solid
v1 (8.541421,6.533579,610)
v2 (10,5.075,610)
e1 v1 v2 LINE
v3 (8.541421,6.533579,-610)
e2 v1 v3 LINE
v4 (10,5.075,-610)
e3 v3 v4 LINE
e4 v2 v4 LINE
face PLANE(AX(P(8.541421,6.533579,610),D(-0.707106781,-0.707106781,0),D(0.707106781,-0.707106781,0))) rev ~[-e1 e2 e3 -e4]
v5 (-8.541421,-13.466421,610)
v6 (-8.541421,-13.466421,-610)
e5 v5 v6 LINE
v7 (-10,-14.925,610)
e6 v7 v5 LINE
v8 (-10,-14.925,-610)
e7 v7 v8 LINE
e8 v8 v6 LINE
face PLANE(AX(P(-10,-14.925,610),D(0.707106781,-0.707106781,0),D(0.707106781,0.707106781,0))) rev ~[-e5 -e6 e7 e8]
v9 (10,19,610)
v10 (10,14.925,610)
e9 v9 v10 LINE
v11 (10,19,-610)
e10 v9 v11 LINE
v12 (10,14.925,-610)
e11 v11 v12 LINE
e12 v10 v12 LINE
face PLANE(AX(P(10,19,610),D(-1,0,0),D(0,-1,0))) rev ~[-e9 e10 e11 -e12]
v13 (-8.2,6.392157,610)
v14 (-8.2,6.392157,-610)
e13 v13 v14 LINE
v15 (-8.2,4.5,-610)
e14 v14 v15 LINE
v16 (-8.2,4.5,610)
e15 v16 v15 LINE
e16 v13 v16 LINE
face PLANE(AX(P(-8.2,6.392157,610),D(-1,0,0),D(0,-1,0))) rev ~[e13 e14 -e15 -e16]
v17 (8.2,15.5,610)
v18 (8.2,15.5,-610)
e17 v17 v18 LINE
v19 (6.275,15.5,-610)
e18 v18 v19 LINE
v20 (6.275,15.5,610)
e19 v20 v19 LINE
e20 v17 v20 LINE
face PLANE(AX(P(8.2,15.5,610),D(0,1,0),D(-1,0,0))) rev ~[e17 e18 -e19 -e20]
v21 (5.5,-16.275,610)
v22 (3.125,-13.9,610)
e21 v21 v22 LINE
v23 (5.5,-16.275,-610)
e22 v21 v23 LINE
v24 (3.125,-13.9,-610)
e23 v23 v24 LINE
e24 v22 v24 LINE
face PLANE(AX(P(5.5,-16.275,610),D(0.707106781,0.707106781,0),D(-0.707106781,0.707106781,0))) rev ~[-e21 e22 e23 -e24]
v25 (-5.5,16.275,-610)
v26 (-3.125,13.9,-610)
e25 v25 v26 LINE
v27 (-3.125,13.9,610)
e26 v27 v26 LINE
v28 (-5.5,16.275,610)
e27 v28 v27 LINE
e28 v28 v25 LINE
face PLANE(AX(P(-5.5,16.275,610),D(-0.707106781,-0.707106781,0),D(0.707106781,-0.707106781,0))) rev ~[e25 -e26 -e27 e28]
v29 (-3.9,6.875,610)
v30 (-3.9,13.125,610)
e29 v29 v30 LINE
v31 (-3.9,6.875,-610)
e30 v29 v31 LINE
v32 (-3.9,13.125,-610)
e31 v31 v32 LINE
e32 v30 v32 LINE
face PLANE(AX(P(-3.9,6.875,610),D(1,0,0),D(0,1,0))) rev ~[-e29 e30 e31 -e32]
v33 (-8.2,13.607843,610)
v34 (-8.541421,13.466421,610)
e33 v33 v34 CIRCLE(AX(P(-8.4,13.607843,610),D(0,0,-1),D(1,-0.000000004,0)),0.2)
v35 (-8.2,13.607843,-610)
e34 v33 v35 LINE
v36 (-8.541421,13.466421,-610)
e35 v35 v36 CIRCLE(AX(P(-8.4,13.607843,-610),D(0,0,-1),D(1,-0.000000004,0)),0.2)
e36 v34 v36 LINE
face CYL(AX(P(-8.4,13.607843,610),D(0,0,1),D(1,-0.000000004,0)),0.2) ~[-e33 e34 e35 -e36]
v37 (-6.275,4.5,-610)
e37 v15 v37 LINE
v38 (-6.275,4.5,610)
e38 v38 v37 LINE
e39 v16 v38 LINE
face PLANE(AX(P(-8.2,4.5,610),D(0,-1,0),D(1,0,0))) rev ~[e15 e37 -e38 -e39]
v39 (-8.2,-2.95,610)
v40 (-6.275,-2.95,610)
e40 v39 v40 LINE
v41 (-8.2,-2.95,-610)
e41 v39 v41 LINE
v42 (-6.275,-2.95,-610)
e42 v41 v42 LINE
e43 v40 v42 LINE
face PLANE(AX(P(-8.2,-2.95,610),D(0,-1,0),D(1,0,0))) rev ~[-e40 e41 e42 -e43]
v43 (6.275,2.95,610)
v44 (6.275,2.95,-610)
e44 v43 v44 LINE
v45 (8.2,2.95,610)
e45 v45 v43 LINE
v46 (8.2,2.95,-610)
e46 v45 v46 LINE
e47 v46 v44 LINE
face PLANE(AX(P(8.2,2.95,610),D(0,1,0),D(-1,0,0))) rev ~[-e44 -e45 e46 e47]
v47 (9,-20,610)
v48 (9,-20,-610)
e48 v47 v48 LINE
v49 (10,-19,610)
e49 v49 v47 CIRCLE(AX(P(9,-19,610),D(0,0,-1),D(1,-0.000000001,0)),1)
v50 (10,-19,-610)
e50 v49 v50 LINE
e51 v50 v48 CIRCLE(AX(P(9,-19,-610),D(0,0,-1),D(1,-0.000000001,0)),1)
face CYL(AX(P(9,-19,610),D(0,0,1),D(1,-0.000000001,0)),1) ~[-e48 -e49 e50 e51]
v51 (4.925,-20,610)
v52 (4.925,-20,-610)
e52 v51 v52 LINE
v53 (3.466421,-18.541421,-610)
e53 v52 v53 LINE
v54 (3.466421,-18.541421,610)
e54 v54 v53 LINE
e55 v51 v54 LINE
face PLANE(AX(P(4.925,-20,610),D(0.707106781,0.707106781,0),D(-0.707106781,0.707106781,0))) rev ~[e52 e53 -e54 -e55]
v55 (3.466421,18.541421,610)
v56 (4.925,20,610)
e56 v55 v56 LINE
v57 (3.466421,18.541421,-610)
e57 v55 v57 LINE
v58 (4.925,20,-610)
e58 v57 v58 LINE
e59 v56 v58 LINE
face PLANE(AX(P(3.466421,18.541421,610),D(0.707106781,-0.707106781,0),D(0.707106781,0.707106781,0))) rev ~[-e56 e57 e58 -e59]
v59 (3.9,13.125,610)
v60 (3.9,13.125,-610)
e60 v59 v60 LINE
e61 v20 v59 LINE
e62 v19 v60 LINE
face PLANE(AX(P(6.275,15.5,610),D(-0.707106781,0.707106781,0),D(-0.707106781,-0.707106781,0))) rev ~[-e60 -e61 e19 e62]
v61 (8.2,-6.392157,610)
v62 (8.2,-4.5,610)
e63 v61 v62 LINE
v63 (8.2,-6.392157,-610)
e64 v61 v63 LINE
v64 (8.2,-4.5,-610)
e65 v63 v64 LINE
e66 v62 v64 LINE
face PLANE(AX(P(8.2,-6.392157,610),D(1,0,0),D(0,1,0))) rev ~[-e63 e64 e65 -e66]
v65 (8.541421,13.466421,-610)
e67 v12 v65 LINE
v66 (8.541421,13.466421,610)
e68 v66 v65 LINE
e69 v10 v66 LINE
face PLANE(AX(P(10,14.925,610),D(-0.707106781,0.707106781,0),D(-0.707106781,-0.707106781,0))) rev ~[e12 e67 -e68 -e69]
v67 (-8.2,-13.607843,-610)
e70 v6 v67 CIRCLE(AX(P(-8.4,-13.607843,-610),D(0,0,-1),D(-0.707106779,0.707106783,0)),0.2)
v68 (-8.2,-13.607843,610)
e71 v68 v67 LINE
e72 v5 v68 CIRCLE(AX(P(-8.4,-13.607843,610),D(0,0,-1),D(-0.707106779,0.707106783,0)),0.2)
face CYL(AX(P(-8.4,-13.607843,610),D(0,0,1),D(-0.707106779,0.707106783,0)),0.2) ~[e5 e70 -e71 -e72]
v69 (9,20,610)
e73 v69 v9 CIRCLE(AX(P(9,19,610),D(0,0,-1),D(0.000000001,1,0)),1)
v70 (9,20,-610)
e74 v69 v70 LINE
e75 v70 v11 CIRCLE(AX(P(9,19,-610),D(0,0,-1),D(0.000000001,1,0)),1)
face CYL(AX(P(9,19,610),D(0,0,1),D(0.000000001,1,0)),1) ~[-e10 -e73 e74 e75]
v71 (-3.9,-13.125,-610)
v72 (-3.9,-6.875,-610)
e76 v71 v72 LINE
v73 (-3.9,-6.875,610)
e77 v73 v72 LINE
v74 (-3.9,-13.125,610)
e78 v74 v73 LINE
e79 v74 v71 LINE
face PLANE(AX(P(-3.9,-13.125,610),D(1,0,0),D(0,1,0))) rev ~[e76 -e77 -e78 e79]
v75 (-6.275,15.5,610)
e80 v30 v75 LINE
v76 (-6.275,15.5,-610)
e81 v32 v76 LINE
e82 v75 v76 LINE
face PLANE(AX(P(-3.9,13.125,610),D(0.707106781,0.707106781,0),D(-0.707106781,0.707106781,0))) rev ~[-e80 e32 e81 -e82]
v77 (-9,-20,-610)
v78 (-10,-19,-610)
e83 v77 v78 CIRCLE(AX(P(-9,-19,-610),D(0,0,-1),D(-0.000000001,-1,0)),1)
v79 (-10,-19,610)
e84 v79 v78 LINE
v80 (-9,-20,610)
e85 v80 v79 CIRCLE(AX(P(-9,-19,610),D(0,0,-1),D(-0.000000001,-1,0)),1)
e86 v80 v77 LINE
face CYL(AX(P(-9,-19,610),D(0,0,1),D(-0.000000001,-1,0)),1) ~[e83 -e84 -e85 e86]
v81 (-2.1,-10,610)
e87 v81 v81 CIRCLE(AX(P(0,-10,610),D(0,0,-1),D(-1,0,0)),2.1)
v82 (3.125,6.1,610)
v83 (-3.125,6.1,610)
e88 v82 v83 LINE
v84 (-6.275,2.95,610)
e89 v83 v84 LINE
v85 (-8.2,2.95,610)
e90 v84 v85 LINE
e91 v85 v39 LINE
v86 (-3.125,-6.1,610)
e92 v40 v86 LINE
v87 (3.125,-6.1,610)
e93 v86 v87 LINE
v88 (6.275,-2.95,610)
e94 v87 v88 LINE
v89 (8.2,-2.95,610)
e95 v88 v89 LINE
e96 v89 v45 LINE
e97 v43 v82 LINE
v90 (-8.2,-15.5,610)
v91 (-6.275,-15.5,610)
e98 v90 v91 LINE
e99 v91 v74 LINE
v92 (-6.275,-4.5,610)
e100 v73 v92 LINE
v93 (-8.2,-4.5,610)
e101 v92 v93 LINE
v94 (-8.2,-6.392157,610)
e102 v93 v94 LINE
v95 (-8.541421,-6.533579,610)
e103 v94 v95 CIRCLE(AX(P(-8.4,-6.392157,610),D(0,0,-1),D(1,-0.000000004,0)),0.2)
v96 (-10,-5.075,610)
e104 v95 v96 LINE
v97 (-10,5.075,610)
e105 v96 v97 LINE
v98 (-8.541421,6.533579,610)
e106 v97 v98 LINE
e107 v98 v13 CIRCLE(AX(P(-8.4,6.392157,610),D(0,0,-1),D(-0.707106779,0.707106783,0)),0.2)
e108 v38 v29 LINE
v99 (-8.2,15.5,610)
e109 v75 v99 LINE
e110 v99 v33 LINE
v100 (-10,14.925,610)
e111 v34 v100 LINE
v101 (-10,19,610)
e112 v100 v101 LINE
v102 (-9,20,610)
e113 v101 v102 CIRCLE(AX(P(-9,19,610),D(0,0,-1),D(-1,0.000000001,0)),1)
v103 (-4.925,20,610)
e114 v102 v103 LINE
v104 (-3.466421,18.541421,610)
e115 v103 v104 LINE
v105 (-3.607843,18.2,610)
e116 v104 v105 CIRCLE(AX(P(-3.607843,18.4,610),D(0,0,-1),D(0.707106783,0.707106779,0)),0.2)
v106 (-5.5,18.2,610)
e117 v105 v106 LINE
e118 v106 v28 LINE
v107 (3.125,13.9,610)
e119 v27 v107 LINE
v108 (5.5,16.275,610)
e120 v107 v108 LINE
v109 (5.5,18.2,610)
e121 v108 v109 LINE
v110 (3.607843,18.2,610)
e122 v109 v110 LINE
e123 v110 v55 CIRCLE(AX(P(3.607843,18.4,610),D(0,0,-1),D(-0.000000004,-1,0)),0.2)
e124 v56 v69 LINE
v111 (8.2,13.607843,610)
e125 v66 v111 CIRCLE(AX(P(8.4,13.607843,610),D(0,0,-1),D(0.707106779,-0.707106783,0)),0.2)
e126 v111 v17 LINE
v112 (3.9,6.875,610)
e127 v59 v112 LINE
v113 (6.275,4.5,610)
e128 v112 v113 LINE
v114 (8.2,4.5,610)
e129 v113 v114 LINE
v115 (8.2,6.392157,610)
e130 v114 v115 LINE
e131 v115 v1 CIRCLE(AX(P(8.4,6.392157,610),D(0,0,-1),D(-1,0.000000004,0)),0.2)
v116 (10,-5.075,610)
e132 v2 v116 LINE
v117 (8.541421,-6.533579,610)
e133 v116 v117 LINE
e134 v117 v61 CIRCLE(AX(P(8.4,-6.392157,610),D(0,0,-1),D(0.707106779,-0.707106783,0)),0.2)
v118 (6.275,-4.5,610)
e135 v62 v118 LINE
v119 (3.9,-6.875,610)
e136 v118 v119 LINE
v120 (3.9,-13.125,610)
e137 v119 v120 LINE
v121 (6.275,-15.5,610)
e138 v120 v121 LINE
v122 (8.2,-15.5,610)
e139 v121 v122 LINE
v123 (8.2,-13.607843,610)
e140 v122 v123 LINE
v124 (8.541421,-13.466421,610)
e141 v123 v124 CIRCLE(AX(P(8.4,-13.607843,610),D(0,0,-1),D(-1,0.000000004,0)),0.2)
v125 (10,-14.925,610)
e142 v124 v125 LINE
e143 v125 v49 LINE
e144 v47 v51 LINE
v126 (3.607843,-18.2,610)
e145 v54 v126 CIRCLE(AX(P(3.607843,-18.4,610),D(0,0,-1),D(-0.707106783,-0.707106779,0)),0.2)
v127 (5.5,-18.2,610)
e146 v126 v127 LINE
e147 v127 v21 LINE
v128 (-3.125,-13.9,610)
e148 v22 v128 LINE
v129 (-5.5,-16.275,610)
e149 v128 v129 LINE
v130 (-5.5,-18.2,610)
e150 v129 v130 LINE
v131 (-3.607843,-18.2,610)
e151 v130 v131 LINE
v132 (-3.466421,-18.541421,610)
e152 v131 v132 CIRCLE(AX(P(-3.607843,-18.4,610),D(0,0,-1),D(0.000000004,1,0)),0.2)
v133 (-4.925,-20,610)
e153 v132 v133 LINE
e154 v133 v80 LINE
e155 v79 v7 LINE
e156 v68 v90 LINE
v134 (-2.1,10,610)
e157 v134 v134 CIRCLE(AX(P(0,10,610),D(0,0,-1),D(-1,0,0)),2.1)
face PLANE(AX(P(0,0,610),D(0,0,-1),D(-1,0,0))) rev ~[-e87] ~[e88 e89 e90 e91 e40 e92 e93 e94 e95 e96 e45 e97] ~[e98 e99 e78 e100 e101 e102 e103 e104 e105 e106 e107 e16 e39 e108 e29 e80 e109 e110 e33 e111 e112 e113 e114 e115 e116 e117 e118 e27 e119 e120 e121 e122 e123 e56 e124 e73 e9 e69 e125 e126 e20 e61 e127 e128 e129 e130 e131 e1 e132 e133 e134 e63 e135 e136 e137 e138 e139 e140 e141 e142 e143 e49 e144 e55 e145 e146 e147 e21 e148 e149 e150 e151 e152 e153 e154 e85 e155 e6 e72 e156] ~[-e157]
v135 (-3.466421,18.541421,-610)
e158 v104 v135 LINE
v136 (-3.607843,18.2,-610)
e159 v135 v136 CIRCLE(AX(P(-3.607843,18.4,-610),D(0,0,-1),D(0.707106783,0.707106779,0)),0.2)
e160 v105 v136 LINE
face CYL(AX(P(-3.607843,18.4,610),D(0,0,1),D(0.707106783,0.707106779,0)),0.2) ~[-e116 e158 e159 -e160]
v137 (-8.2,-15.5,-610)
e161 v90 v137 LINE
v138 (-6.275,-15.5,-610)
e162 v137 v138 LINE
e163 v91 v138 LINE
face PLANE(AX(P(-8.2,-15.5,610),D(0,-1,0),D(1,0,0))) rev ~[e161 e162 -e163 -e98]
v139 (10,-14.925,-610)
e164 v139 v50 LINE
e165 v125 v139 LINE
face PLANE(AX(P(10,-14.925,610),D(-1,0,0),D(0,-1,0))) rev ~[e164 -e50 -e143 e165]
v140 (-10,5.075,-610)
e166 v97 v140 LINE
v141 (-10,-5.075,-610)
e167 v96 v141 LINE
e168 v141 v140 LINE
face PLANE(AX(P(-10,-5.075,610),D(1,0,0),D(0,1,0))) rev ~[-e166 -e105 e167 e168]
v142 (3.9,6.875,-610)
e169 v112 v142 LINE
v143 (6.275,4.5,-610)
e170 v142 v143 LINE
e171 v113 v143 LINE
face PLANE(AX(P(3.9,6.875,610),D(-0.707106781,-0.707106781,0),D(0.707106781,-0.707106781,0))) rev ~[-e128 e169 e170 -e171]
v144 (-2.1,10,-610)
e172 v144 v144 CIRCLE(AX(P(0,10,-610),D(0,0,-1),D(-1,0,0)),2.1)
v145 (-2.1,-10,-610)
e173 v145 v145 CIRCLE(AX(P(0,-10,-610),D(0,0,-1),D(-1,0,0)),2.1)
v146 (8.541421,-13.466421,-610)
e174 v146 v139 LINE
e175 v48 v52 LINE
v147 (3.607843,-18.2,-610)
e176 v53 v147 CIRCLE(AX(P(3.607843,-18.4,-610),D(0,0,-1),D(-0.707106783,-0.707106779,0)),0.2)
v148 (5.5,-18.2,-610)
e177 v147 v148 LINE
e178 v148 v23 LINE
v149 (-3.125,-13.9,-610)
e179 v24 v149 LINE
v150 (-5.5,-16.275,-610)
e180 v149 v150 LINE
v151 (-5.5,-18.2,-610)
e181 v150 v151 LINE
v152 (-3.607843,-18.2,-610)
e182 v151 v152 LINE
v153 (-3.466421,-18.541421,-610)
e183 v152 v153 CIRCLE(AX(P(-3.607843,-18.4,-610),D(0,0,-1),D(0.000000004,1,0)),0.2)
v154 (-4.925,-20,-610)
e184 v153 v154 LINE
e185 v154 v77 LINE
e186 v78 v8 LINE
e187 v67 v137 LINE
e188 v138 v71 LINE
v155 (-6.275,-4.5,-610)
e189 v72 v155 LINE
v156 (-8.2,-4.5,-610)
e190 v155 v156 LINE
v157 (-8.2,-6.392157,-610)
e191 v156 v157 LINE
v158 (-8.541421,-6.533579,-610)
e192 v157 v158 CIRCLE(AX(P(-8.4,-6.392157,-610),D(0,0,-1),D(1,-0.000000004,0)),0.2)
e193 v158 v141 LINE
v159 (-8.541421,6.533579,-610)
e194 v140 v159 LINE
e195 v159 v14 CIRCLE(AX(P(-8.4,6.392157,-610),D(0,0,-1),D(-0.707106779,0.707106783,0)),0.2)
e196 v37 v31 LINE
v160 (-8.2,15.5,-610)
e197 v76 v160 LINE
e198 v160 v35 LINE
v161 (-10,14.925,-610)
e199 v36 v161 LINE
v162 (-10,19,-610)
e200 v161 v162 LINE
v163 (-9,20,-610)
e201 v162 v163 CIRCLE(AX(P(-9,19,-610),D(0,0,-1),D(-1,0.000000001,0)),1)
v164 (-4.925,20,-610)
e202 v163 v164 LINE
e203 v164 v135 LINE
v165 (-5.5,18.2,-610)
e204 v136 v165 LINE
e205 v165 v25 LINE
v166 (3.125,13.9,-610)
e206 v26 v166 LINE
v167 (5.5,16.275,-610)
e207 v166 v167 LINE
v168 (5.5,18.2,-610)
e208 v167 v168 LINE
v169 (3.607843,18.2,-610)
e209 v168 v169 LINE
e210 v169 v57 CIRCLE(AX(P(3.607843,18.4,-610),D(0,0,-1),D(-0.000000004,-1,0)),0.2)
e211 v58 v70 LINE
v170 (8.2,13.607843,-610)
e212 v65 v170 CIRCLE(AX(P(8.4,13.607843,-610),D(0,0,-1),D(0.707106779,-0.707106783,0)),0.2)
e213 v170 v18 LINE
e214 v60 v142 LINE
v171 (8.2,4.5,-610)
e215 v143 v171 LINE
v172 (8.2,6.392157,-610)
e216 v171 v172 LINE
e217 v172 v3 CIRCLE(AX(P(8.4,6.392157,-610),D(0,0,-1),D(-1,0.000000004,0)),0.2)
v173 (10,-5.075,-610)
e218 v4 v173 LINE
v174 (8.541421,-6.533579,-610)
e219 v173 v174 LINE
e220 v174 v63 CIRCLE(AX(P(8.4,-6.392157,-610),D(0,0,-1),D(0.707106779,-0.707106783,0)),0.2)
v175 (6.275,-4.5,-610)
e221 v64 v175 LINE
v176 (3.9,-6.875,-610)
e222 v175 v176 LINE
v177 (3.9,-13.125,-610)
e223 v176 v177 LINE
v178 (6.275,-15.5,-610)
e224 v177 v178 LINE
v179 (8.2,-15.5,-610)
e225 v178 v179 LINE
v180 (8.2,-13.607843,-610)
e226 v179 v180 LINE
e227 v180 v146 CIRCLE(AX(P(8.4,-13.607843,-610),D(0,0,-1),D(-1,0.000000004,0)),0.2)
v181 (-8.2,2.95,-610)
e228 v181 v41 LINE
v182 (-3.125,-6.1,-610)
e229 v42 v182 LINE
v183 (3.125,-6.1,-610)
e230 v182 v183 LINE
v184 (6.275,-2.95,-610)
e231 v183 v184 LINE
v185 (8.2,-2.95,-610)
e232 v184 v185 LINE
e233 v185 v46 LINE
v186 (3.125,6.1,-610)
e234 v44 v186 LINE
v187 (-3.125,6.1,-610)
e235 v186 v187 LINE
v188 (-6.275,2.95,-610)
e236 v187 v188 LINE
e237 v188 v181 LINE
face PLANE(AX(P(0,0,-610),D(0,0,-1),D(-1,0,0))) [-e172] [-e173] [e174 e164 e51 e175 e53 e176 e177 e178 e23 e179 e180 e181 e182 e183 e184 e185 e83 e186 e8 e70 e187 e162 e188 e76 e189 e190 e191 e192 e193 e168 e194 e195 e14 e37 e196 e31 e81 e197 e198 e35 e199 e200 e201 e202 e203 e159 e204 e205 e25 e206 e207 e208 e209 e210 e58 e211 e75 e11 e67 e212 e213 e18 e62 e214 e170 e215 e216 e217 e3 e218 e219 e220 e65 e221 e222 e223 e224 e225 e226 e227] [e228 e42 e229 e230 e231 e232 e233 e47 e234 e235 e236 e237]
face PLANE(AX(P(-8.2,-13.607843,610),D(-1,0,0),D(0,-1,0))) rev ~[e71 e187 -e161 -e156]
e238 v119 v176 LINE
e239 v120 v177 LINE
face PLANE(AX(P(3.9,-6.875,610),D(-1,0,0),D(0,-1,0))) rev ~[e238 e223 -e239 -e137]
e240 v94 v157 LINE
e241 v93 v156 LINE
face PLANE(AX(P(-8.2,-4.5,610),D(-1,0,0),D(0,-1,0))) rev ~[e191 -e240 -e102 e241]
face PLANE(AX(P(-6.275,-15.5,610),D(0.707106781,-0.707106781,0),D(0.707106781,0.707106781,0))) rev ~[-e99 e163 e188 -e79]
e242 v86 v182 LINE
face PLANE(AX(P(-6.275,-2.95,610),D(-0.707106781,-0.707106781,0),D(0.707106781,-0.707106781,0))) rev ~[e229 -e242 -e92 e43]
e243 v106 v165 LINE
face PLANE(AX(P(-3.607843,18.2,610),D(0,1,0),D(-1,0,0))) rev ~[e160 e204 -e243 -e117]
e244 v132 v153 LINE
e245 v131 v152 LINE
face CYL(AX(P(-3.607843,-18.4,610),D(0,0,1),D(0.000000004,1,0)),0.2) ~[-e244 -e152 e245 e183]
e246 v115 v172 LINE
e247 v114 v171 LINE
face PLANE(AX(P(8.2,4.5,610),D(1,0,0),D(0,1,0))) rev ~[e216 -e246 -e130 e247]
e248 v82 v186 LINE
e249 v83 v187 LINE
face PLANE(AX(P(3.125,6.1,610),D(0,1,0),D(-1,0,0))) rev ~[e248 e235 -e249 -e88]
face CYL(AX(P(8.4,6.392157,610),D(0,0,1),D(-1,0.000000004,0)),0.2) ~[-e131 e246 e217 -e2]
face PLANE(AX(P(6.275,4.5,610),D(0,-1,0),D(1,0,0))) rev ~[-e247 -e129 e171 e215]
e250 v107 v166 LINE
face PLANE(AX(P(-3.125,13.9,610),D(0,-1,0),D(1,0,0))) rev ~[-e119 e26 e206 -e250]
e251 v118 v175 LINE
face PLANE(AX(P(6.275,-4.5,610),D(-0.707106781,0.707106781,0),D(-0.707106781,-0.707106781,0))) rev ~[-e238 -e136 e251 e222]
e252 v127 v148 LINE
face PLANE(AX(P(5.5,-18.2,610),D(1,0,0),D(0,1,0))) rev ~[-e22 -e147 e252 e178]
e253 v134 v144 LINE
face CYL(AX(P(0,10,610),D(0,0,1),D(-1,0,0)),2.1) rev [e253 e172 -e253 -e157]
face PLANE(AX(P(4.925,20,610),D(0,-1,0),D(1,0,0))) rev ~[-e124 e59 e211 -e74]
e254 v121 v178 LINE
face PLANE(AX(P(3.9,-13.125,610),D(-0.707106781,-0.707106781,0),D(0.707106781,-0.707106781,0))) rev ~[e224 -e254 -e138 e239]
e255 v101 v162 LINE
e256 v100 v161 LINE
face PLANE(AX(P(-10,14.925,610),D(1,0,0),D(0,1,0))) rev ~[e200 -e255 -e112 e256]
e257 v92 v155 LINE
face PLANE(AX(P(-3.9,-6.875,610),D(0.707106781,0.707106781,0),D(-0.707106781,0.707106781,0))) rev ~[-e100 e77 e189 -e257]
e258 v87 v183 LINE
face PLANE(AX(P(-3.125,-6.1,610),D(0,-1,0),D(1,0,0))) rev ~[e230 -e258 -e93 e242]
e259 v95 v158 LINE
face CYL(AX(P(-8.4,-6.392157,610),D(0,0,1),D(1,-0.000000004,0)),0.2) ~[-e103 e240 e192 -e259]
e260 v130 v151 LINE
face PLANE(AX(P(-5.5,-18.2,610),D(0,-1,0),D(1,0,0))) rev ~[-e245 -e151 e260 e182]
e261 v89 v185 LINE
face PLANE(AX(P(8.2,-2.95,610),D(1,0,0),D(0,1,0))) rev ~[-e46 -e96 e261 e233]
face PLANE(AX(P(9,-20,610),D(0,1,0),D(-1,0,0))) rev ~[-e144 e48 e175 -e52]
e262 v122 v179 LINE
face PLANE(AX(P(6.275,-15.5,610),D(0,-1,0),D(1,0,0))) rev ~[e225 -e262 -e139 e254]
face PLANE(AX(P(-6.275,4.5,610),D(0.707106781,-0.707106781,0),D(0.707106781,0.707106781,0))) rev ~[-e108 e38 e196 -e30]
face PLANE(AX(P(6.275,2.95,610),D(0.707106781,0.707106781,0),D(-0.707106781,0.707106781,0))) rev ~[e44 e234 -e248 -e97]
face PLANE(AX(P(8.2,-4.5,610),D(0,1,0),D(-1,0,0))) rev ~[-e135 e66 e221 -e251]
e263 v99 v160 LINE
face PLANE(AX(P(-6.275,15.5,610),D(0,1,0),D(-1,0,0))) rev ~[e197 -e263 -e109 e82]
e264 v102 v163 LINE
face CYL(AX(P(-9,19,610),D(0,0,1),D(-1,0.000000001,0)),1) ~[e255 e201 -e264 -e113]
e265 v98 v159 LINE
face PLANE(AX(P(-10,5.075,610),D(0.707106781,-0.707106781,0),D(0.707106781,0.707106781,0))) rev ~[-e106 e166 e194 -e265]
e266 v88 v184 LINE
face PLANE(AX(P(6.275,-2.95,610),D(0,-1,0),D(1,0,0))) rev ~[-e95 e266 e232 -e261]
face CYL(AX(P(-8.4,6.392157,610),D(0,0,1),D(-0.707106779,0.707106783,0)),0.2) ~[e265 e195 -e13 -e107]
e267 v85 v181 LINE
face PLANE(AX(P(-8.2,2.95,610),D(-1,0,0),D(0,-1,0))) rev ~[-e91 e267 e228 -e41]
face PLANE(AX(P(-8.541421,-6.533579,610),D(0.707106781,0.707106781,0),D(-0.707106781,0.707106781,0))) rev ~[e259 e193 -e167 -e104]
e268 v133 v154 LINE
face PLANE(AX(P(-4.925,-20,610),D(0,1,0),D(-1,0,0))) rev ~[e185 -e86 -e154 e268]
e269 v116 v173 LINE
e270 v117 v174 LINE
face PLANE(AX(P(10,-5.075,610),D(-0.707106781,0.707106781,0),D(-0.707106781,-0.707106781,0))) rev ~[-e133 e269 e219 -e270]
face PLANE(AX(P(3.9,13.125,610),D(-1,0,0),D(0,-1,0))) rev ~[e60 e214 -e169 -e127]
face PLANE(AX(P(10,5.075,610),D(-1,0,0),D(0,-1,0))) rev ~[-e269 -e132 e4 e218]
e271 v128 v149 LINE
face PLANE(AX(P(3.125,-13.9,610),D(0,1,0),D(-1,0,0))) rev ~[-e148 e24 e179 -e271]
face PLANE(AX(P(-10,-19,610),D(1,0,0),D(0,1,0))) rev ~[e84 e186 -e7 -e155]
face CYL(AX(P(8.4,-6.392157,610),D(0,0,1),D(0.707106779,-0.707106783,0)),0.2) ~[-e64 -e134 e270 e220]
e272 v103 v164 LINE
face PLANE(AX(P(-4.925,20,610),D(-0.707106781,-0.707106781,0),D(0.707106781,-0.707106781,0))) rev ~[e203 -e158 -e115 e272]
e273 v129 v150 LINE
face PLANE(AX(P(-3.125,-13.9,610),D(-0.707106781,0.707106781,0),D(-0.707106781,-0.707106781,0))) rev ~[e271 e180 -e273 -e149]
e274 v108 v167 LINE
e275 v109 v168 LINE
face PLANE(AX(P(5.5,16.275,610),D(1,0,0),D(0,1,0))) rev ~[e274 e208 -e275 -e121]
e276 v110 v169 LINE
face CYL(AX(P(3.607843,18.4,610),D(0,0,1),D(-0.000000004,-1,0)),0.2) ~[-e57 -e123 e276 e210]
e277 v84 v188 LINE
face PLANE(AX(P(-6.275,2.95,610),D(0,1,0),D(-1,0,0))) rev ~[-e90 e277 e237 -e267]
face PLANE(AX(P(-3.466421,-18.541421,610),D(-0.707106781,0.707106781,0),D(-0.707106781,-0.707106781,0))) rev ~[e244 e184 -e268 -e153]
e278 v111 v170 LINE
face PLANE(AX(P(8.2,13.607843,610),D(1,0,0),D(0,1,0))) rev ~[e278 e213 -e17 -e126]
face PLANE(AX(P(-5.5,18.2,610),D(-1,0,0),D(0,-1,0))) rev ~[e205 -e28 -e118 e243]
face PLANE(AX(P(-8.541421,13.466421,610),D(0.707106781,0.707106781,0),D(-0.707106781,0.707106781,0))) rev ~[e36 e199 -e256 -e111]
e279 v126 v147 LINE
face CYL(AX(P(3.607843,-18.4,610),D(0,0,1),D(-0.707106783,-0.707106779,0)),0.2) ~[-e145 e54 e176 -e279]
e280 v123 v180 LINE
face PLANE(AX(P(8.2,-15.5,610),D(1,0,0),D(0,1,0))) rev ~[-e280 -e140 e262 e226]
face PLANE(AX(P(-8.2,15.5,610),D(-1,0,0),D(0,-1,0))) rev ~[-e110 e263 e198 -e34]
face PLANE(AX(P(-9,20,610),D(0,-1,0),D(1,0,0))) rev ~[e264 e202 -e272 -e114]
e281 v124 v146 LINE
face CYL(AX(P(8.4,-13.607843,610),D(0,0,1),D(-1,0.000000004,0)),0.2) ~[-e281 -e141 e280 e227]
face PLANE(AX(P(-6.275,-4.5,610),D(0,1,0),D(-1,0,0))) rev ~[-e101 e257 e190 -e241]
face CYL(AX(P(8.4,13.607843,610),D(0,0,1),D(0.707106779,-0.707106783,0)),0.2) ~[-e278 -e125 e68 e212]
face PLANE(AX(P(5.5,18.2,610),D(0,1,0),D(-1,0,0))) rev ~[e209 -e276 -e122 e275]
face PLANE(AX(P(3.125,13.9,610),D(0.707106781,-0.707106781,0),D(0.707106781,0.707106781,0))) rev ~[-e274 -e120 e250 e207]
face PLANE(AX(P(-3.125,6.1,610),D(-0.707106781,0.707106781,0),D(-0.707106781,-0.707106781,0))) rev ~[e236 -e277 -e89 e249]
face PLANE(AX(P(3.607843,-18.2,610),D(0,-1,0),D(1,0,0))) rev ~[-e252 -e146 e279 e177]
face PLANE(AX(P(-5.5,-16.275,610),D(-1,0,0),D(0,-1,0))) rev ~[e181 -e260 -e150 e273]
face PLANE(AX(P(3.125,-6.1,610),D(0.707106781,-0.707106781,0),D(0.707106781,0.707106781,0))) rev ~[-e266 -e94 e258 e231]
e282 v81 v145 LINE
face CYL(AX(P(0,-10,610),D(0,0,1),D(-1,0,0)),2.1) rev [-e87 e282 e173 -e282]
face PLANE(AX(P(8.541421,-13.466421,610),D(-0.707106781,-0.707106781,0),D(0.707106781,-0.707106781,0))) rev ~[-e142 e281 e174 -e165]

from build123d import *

# Parameters (mm, degrees)
SKETCH11_R             = 2.1
VSLOT2040_2040_1_DEPTH = 1220


with BuildPart() as part:
    # Sketch11 → Vslot2040 2040(1) (new body)
    with BuildSketch(Plane(origin=(0, 0, 610), x_dir=(-1, 0, 0), z_dir=(0, 0, -1))):
        with BuildLine():
            Line((5.5, -18.2), (3.607842712, -18.2))
            ThreePointArc((3.607842712, -18.2), (3.423066806, -18.323463314), (3.466421356, -18.541421356))
            Line((3.466421356, -18.541421356), (4.925, -20))
            Line((4.925, -20), (9, -20))
            ThreePointArc((9, -20), (9.707106781, -19.707106781), (10, -19))
            Line((10, -19), (10, -14.925))
            Line((10, -14.925), (8.541421356, -13.466421356))
            ThreePointArc((8.541421356, -13.466421356), (8.323463314, -13.423066806), (8.2, -13.607842712))
            Line((8.2, -13.607842712), (8.2, -15.5))
            Line((8.2, -15.5), (6.275, -15.5))
            Line((6.275, -15.5), (3.9, -13.125))
            Line((3.9, -13.125), (3.9, -6.875))
            Line((3.9, -6.875), (6.275, -4.5))
            Line((6.275, -4.5), (8.2, -4.5))
            Line((8.2, -4.5), (8.2, -6.392157288))
            ThreePointArc((8.2, -6.392157288), (8.323463314, -6.576933194), (8.541421356, -6.533578644))
            Line((8.541421356, -6.533578644), (10, -5.075))
            Line((10, -5.075), (10, 5.075))
            Line((10, 5.075), (8.541421356, 6.533578644))
            ThreePointArc((8.541421356, 6.533578644), (8.323463314, 6.576933194), (8.2, 6.392157288))
            Line((8.2, 6.392157288), (8.2, 4.5))
            Line((8.2, 4.5), (6.275, 4.5))
            Line((6.275, 4.5), (3.9, 6.875))
            Line((3.9, 6.875), (3.9, 13.125))
            Line((3.9, 13.125), (6.275, 15.5))
            Line((6.275, 15.5), (8.2, 15.5))
            Line((8.2, 15.5), (8.2, 13.607842712))
            ThreePointArc((8.2, 13.607842712), (8.323463314, 13.423066806), (8.541421356, 13.466421356))
            Line((8.541421356, 13.466421356), (10, 14.925))
            Line((10, 14.925), (10, 19))
            ThreePointArc((10, 19), (9.707106781, 19.707106781), (9, 20))
            Line((9, 20), (4.925, 20))
            Line((4.925, 20), (3.466421356, 18.541421356))
            ThreePointArc((3.466421356, 18.541421356), (3.423066806, 18.323463314), (3.607842712, 18.2))
            Line((3.607842712, 18.2), (5.5, 18.2))
            Line((5.5, 18.2), (5.5, 16.275))
            Line((5.5, 16.275), (3.125, 13.9))
            Line((3.125, 13.9), (-3.125, 13.9))
            Line((-3.125, 13.9), (-5.5, 16.275))
            Line((-5.5, 16.275), (-5.5, 18.2))
            Line((-5.5, 18.2), (-3.607842712, 18.2))
            ThreePointArc((-3.607842712, 18.2), (-3.423066806, 18.323463314), (-3.466421356, 18.541421356))
            Line((-3.466421356, 18.541421356), (-4.925, 20))
            Line((-4.925, 20), (-9, 20))
            ThreePointArc((-9, 20), (-9.707106781, 19.707106781), (-10, 19))
            Line((-10, 19), (-10, 14.925))
            Line((-10, 14.925), (-8.541421356, 13.466421356))
            ThreePointArc((-8.541421356, 13.466421356), (-8.323463314, 13.423066806), (-8.2, 13.607842712))
            Line((-8.2, 13.607842712), (-8.2, 15.5))
            Line((-8.2, 15.5), (-6.275, 15.5))
            Line((-6.275, 15.5), (-3.9, 13.125))
            Line((-3.9, 13.125), (-3.9, 6.875))
            Line((-3.9, 6.875), (-6.275, 4.5))
            Line((-6.275, 4.5), (-8.2, 4.5))
            Line((-8.2, 4.5), (-8.2, 6.392157288))
            ThreePointArc((-8.2, 6.392157288), (-8.323463314, 6.576933194), (-8.541421356, 6.533578644))
            Line((-8.541421356, 6.533578644), (-10, 5.075))
            Line((-10, 5.075), (-10, -5.075))
            Line((-10, -5.075), (-8.541421356, -6.533578644))
            ThreePointArc((-8.541421356, -6.533578644), (-8.323463314, -6.576933194), (-8.2, -6.392157288))
            Line((-8.2, -6.392157288), (-8.2, -4.5))
            Line((-8.2, -4.5), (-6.275, -4.5))
            Line((-6.275, -4.5), (-3.9, -6.875))
            Line((-3.9, -6.875), (-3.9, -13.125))
            Line((-3.9, -13.125), (-6.275, -15.5))
            Line((-6.275, -15.5), (-8.2, -15.5))
            Line((-8.2, -15.5), (-8.2, -13.607842712))
            ThreePointArc((-8.2, -13.607842712), (-8.323463314, -13.423066806), (-8.541421356, -13.466421356))
            Line((-8.541421356, -13.466421356), (-10, -14.925))
            Line((-10, -14.925), (-10, -19))
            ThreePointArc((-10, -19), (-9.707106781, -19.707106781), (-9, -20))
            Line((-9, -20), (-4.925, -20))
            Line((-4.925, -20), (-3.466421356, -18.541421356))
            ThreePointArc((-3.466421356, -18.541421356), (-3.423066806, -18.323463314), (-3.607842712, -18.2))
            Line((-3.607842712, -18.2), (-5.5, -18.2))
            Line((-5.5, -18.2), (-5.5, -16.275))
            Line((-5.5, -16.275), (-3.125, -13.9))
            Line((-3.125, -13.9), (3.125, -13.9))
            Line((3.125, -13.9), (5.5, -16.275))
            Line((5.5, -16.275), (5.5, -18.2))
        make_face()
        with Locations((0, -10)):
            Circle(SKETCH11_R, mode=Mode.SUBTRACT)
        with Locations((0, 10)):
            Circle(SKETCH11_R, mode=Mode.SUBTRACT)
        Polygon((3.125, 6.1), (6.275, 2.95), (8.2, 2.95), (8.2, -2.95), (6.275, -2.95), (3.125, -6.1), (-3.125, -6.1), (-6.275, -2.95), (-8.2, -2.95), (-8.2, 2.95), (-6.275, 2.95), (-3.125, 6.1), align=None, mode=Mode.SUBTRACT)
    extrude(amount=VSLOT2040_2040_1_DEPTH)


solid = part.part
